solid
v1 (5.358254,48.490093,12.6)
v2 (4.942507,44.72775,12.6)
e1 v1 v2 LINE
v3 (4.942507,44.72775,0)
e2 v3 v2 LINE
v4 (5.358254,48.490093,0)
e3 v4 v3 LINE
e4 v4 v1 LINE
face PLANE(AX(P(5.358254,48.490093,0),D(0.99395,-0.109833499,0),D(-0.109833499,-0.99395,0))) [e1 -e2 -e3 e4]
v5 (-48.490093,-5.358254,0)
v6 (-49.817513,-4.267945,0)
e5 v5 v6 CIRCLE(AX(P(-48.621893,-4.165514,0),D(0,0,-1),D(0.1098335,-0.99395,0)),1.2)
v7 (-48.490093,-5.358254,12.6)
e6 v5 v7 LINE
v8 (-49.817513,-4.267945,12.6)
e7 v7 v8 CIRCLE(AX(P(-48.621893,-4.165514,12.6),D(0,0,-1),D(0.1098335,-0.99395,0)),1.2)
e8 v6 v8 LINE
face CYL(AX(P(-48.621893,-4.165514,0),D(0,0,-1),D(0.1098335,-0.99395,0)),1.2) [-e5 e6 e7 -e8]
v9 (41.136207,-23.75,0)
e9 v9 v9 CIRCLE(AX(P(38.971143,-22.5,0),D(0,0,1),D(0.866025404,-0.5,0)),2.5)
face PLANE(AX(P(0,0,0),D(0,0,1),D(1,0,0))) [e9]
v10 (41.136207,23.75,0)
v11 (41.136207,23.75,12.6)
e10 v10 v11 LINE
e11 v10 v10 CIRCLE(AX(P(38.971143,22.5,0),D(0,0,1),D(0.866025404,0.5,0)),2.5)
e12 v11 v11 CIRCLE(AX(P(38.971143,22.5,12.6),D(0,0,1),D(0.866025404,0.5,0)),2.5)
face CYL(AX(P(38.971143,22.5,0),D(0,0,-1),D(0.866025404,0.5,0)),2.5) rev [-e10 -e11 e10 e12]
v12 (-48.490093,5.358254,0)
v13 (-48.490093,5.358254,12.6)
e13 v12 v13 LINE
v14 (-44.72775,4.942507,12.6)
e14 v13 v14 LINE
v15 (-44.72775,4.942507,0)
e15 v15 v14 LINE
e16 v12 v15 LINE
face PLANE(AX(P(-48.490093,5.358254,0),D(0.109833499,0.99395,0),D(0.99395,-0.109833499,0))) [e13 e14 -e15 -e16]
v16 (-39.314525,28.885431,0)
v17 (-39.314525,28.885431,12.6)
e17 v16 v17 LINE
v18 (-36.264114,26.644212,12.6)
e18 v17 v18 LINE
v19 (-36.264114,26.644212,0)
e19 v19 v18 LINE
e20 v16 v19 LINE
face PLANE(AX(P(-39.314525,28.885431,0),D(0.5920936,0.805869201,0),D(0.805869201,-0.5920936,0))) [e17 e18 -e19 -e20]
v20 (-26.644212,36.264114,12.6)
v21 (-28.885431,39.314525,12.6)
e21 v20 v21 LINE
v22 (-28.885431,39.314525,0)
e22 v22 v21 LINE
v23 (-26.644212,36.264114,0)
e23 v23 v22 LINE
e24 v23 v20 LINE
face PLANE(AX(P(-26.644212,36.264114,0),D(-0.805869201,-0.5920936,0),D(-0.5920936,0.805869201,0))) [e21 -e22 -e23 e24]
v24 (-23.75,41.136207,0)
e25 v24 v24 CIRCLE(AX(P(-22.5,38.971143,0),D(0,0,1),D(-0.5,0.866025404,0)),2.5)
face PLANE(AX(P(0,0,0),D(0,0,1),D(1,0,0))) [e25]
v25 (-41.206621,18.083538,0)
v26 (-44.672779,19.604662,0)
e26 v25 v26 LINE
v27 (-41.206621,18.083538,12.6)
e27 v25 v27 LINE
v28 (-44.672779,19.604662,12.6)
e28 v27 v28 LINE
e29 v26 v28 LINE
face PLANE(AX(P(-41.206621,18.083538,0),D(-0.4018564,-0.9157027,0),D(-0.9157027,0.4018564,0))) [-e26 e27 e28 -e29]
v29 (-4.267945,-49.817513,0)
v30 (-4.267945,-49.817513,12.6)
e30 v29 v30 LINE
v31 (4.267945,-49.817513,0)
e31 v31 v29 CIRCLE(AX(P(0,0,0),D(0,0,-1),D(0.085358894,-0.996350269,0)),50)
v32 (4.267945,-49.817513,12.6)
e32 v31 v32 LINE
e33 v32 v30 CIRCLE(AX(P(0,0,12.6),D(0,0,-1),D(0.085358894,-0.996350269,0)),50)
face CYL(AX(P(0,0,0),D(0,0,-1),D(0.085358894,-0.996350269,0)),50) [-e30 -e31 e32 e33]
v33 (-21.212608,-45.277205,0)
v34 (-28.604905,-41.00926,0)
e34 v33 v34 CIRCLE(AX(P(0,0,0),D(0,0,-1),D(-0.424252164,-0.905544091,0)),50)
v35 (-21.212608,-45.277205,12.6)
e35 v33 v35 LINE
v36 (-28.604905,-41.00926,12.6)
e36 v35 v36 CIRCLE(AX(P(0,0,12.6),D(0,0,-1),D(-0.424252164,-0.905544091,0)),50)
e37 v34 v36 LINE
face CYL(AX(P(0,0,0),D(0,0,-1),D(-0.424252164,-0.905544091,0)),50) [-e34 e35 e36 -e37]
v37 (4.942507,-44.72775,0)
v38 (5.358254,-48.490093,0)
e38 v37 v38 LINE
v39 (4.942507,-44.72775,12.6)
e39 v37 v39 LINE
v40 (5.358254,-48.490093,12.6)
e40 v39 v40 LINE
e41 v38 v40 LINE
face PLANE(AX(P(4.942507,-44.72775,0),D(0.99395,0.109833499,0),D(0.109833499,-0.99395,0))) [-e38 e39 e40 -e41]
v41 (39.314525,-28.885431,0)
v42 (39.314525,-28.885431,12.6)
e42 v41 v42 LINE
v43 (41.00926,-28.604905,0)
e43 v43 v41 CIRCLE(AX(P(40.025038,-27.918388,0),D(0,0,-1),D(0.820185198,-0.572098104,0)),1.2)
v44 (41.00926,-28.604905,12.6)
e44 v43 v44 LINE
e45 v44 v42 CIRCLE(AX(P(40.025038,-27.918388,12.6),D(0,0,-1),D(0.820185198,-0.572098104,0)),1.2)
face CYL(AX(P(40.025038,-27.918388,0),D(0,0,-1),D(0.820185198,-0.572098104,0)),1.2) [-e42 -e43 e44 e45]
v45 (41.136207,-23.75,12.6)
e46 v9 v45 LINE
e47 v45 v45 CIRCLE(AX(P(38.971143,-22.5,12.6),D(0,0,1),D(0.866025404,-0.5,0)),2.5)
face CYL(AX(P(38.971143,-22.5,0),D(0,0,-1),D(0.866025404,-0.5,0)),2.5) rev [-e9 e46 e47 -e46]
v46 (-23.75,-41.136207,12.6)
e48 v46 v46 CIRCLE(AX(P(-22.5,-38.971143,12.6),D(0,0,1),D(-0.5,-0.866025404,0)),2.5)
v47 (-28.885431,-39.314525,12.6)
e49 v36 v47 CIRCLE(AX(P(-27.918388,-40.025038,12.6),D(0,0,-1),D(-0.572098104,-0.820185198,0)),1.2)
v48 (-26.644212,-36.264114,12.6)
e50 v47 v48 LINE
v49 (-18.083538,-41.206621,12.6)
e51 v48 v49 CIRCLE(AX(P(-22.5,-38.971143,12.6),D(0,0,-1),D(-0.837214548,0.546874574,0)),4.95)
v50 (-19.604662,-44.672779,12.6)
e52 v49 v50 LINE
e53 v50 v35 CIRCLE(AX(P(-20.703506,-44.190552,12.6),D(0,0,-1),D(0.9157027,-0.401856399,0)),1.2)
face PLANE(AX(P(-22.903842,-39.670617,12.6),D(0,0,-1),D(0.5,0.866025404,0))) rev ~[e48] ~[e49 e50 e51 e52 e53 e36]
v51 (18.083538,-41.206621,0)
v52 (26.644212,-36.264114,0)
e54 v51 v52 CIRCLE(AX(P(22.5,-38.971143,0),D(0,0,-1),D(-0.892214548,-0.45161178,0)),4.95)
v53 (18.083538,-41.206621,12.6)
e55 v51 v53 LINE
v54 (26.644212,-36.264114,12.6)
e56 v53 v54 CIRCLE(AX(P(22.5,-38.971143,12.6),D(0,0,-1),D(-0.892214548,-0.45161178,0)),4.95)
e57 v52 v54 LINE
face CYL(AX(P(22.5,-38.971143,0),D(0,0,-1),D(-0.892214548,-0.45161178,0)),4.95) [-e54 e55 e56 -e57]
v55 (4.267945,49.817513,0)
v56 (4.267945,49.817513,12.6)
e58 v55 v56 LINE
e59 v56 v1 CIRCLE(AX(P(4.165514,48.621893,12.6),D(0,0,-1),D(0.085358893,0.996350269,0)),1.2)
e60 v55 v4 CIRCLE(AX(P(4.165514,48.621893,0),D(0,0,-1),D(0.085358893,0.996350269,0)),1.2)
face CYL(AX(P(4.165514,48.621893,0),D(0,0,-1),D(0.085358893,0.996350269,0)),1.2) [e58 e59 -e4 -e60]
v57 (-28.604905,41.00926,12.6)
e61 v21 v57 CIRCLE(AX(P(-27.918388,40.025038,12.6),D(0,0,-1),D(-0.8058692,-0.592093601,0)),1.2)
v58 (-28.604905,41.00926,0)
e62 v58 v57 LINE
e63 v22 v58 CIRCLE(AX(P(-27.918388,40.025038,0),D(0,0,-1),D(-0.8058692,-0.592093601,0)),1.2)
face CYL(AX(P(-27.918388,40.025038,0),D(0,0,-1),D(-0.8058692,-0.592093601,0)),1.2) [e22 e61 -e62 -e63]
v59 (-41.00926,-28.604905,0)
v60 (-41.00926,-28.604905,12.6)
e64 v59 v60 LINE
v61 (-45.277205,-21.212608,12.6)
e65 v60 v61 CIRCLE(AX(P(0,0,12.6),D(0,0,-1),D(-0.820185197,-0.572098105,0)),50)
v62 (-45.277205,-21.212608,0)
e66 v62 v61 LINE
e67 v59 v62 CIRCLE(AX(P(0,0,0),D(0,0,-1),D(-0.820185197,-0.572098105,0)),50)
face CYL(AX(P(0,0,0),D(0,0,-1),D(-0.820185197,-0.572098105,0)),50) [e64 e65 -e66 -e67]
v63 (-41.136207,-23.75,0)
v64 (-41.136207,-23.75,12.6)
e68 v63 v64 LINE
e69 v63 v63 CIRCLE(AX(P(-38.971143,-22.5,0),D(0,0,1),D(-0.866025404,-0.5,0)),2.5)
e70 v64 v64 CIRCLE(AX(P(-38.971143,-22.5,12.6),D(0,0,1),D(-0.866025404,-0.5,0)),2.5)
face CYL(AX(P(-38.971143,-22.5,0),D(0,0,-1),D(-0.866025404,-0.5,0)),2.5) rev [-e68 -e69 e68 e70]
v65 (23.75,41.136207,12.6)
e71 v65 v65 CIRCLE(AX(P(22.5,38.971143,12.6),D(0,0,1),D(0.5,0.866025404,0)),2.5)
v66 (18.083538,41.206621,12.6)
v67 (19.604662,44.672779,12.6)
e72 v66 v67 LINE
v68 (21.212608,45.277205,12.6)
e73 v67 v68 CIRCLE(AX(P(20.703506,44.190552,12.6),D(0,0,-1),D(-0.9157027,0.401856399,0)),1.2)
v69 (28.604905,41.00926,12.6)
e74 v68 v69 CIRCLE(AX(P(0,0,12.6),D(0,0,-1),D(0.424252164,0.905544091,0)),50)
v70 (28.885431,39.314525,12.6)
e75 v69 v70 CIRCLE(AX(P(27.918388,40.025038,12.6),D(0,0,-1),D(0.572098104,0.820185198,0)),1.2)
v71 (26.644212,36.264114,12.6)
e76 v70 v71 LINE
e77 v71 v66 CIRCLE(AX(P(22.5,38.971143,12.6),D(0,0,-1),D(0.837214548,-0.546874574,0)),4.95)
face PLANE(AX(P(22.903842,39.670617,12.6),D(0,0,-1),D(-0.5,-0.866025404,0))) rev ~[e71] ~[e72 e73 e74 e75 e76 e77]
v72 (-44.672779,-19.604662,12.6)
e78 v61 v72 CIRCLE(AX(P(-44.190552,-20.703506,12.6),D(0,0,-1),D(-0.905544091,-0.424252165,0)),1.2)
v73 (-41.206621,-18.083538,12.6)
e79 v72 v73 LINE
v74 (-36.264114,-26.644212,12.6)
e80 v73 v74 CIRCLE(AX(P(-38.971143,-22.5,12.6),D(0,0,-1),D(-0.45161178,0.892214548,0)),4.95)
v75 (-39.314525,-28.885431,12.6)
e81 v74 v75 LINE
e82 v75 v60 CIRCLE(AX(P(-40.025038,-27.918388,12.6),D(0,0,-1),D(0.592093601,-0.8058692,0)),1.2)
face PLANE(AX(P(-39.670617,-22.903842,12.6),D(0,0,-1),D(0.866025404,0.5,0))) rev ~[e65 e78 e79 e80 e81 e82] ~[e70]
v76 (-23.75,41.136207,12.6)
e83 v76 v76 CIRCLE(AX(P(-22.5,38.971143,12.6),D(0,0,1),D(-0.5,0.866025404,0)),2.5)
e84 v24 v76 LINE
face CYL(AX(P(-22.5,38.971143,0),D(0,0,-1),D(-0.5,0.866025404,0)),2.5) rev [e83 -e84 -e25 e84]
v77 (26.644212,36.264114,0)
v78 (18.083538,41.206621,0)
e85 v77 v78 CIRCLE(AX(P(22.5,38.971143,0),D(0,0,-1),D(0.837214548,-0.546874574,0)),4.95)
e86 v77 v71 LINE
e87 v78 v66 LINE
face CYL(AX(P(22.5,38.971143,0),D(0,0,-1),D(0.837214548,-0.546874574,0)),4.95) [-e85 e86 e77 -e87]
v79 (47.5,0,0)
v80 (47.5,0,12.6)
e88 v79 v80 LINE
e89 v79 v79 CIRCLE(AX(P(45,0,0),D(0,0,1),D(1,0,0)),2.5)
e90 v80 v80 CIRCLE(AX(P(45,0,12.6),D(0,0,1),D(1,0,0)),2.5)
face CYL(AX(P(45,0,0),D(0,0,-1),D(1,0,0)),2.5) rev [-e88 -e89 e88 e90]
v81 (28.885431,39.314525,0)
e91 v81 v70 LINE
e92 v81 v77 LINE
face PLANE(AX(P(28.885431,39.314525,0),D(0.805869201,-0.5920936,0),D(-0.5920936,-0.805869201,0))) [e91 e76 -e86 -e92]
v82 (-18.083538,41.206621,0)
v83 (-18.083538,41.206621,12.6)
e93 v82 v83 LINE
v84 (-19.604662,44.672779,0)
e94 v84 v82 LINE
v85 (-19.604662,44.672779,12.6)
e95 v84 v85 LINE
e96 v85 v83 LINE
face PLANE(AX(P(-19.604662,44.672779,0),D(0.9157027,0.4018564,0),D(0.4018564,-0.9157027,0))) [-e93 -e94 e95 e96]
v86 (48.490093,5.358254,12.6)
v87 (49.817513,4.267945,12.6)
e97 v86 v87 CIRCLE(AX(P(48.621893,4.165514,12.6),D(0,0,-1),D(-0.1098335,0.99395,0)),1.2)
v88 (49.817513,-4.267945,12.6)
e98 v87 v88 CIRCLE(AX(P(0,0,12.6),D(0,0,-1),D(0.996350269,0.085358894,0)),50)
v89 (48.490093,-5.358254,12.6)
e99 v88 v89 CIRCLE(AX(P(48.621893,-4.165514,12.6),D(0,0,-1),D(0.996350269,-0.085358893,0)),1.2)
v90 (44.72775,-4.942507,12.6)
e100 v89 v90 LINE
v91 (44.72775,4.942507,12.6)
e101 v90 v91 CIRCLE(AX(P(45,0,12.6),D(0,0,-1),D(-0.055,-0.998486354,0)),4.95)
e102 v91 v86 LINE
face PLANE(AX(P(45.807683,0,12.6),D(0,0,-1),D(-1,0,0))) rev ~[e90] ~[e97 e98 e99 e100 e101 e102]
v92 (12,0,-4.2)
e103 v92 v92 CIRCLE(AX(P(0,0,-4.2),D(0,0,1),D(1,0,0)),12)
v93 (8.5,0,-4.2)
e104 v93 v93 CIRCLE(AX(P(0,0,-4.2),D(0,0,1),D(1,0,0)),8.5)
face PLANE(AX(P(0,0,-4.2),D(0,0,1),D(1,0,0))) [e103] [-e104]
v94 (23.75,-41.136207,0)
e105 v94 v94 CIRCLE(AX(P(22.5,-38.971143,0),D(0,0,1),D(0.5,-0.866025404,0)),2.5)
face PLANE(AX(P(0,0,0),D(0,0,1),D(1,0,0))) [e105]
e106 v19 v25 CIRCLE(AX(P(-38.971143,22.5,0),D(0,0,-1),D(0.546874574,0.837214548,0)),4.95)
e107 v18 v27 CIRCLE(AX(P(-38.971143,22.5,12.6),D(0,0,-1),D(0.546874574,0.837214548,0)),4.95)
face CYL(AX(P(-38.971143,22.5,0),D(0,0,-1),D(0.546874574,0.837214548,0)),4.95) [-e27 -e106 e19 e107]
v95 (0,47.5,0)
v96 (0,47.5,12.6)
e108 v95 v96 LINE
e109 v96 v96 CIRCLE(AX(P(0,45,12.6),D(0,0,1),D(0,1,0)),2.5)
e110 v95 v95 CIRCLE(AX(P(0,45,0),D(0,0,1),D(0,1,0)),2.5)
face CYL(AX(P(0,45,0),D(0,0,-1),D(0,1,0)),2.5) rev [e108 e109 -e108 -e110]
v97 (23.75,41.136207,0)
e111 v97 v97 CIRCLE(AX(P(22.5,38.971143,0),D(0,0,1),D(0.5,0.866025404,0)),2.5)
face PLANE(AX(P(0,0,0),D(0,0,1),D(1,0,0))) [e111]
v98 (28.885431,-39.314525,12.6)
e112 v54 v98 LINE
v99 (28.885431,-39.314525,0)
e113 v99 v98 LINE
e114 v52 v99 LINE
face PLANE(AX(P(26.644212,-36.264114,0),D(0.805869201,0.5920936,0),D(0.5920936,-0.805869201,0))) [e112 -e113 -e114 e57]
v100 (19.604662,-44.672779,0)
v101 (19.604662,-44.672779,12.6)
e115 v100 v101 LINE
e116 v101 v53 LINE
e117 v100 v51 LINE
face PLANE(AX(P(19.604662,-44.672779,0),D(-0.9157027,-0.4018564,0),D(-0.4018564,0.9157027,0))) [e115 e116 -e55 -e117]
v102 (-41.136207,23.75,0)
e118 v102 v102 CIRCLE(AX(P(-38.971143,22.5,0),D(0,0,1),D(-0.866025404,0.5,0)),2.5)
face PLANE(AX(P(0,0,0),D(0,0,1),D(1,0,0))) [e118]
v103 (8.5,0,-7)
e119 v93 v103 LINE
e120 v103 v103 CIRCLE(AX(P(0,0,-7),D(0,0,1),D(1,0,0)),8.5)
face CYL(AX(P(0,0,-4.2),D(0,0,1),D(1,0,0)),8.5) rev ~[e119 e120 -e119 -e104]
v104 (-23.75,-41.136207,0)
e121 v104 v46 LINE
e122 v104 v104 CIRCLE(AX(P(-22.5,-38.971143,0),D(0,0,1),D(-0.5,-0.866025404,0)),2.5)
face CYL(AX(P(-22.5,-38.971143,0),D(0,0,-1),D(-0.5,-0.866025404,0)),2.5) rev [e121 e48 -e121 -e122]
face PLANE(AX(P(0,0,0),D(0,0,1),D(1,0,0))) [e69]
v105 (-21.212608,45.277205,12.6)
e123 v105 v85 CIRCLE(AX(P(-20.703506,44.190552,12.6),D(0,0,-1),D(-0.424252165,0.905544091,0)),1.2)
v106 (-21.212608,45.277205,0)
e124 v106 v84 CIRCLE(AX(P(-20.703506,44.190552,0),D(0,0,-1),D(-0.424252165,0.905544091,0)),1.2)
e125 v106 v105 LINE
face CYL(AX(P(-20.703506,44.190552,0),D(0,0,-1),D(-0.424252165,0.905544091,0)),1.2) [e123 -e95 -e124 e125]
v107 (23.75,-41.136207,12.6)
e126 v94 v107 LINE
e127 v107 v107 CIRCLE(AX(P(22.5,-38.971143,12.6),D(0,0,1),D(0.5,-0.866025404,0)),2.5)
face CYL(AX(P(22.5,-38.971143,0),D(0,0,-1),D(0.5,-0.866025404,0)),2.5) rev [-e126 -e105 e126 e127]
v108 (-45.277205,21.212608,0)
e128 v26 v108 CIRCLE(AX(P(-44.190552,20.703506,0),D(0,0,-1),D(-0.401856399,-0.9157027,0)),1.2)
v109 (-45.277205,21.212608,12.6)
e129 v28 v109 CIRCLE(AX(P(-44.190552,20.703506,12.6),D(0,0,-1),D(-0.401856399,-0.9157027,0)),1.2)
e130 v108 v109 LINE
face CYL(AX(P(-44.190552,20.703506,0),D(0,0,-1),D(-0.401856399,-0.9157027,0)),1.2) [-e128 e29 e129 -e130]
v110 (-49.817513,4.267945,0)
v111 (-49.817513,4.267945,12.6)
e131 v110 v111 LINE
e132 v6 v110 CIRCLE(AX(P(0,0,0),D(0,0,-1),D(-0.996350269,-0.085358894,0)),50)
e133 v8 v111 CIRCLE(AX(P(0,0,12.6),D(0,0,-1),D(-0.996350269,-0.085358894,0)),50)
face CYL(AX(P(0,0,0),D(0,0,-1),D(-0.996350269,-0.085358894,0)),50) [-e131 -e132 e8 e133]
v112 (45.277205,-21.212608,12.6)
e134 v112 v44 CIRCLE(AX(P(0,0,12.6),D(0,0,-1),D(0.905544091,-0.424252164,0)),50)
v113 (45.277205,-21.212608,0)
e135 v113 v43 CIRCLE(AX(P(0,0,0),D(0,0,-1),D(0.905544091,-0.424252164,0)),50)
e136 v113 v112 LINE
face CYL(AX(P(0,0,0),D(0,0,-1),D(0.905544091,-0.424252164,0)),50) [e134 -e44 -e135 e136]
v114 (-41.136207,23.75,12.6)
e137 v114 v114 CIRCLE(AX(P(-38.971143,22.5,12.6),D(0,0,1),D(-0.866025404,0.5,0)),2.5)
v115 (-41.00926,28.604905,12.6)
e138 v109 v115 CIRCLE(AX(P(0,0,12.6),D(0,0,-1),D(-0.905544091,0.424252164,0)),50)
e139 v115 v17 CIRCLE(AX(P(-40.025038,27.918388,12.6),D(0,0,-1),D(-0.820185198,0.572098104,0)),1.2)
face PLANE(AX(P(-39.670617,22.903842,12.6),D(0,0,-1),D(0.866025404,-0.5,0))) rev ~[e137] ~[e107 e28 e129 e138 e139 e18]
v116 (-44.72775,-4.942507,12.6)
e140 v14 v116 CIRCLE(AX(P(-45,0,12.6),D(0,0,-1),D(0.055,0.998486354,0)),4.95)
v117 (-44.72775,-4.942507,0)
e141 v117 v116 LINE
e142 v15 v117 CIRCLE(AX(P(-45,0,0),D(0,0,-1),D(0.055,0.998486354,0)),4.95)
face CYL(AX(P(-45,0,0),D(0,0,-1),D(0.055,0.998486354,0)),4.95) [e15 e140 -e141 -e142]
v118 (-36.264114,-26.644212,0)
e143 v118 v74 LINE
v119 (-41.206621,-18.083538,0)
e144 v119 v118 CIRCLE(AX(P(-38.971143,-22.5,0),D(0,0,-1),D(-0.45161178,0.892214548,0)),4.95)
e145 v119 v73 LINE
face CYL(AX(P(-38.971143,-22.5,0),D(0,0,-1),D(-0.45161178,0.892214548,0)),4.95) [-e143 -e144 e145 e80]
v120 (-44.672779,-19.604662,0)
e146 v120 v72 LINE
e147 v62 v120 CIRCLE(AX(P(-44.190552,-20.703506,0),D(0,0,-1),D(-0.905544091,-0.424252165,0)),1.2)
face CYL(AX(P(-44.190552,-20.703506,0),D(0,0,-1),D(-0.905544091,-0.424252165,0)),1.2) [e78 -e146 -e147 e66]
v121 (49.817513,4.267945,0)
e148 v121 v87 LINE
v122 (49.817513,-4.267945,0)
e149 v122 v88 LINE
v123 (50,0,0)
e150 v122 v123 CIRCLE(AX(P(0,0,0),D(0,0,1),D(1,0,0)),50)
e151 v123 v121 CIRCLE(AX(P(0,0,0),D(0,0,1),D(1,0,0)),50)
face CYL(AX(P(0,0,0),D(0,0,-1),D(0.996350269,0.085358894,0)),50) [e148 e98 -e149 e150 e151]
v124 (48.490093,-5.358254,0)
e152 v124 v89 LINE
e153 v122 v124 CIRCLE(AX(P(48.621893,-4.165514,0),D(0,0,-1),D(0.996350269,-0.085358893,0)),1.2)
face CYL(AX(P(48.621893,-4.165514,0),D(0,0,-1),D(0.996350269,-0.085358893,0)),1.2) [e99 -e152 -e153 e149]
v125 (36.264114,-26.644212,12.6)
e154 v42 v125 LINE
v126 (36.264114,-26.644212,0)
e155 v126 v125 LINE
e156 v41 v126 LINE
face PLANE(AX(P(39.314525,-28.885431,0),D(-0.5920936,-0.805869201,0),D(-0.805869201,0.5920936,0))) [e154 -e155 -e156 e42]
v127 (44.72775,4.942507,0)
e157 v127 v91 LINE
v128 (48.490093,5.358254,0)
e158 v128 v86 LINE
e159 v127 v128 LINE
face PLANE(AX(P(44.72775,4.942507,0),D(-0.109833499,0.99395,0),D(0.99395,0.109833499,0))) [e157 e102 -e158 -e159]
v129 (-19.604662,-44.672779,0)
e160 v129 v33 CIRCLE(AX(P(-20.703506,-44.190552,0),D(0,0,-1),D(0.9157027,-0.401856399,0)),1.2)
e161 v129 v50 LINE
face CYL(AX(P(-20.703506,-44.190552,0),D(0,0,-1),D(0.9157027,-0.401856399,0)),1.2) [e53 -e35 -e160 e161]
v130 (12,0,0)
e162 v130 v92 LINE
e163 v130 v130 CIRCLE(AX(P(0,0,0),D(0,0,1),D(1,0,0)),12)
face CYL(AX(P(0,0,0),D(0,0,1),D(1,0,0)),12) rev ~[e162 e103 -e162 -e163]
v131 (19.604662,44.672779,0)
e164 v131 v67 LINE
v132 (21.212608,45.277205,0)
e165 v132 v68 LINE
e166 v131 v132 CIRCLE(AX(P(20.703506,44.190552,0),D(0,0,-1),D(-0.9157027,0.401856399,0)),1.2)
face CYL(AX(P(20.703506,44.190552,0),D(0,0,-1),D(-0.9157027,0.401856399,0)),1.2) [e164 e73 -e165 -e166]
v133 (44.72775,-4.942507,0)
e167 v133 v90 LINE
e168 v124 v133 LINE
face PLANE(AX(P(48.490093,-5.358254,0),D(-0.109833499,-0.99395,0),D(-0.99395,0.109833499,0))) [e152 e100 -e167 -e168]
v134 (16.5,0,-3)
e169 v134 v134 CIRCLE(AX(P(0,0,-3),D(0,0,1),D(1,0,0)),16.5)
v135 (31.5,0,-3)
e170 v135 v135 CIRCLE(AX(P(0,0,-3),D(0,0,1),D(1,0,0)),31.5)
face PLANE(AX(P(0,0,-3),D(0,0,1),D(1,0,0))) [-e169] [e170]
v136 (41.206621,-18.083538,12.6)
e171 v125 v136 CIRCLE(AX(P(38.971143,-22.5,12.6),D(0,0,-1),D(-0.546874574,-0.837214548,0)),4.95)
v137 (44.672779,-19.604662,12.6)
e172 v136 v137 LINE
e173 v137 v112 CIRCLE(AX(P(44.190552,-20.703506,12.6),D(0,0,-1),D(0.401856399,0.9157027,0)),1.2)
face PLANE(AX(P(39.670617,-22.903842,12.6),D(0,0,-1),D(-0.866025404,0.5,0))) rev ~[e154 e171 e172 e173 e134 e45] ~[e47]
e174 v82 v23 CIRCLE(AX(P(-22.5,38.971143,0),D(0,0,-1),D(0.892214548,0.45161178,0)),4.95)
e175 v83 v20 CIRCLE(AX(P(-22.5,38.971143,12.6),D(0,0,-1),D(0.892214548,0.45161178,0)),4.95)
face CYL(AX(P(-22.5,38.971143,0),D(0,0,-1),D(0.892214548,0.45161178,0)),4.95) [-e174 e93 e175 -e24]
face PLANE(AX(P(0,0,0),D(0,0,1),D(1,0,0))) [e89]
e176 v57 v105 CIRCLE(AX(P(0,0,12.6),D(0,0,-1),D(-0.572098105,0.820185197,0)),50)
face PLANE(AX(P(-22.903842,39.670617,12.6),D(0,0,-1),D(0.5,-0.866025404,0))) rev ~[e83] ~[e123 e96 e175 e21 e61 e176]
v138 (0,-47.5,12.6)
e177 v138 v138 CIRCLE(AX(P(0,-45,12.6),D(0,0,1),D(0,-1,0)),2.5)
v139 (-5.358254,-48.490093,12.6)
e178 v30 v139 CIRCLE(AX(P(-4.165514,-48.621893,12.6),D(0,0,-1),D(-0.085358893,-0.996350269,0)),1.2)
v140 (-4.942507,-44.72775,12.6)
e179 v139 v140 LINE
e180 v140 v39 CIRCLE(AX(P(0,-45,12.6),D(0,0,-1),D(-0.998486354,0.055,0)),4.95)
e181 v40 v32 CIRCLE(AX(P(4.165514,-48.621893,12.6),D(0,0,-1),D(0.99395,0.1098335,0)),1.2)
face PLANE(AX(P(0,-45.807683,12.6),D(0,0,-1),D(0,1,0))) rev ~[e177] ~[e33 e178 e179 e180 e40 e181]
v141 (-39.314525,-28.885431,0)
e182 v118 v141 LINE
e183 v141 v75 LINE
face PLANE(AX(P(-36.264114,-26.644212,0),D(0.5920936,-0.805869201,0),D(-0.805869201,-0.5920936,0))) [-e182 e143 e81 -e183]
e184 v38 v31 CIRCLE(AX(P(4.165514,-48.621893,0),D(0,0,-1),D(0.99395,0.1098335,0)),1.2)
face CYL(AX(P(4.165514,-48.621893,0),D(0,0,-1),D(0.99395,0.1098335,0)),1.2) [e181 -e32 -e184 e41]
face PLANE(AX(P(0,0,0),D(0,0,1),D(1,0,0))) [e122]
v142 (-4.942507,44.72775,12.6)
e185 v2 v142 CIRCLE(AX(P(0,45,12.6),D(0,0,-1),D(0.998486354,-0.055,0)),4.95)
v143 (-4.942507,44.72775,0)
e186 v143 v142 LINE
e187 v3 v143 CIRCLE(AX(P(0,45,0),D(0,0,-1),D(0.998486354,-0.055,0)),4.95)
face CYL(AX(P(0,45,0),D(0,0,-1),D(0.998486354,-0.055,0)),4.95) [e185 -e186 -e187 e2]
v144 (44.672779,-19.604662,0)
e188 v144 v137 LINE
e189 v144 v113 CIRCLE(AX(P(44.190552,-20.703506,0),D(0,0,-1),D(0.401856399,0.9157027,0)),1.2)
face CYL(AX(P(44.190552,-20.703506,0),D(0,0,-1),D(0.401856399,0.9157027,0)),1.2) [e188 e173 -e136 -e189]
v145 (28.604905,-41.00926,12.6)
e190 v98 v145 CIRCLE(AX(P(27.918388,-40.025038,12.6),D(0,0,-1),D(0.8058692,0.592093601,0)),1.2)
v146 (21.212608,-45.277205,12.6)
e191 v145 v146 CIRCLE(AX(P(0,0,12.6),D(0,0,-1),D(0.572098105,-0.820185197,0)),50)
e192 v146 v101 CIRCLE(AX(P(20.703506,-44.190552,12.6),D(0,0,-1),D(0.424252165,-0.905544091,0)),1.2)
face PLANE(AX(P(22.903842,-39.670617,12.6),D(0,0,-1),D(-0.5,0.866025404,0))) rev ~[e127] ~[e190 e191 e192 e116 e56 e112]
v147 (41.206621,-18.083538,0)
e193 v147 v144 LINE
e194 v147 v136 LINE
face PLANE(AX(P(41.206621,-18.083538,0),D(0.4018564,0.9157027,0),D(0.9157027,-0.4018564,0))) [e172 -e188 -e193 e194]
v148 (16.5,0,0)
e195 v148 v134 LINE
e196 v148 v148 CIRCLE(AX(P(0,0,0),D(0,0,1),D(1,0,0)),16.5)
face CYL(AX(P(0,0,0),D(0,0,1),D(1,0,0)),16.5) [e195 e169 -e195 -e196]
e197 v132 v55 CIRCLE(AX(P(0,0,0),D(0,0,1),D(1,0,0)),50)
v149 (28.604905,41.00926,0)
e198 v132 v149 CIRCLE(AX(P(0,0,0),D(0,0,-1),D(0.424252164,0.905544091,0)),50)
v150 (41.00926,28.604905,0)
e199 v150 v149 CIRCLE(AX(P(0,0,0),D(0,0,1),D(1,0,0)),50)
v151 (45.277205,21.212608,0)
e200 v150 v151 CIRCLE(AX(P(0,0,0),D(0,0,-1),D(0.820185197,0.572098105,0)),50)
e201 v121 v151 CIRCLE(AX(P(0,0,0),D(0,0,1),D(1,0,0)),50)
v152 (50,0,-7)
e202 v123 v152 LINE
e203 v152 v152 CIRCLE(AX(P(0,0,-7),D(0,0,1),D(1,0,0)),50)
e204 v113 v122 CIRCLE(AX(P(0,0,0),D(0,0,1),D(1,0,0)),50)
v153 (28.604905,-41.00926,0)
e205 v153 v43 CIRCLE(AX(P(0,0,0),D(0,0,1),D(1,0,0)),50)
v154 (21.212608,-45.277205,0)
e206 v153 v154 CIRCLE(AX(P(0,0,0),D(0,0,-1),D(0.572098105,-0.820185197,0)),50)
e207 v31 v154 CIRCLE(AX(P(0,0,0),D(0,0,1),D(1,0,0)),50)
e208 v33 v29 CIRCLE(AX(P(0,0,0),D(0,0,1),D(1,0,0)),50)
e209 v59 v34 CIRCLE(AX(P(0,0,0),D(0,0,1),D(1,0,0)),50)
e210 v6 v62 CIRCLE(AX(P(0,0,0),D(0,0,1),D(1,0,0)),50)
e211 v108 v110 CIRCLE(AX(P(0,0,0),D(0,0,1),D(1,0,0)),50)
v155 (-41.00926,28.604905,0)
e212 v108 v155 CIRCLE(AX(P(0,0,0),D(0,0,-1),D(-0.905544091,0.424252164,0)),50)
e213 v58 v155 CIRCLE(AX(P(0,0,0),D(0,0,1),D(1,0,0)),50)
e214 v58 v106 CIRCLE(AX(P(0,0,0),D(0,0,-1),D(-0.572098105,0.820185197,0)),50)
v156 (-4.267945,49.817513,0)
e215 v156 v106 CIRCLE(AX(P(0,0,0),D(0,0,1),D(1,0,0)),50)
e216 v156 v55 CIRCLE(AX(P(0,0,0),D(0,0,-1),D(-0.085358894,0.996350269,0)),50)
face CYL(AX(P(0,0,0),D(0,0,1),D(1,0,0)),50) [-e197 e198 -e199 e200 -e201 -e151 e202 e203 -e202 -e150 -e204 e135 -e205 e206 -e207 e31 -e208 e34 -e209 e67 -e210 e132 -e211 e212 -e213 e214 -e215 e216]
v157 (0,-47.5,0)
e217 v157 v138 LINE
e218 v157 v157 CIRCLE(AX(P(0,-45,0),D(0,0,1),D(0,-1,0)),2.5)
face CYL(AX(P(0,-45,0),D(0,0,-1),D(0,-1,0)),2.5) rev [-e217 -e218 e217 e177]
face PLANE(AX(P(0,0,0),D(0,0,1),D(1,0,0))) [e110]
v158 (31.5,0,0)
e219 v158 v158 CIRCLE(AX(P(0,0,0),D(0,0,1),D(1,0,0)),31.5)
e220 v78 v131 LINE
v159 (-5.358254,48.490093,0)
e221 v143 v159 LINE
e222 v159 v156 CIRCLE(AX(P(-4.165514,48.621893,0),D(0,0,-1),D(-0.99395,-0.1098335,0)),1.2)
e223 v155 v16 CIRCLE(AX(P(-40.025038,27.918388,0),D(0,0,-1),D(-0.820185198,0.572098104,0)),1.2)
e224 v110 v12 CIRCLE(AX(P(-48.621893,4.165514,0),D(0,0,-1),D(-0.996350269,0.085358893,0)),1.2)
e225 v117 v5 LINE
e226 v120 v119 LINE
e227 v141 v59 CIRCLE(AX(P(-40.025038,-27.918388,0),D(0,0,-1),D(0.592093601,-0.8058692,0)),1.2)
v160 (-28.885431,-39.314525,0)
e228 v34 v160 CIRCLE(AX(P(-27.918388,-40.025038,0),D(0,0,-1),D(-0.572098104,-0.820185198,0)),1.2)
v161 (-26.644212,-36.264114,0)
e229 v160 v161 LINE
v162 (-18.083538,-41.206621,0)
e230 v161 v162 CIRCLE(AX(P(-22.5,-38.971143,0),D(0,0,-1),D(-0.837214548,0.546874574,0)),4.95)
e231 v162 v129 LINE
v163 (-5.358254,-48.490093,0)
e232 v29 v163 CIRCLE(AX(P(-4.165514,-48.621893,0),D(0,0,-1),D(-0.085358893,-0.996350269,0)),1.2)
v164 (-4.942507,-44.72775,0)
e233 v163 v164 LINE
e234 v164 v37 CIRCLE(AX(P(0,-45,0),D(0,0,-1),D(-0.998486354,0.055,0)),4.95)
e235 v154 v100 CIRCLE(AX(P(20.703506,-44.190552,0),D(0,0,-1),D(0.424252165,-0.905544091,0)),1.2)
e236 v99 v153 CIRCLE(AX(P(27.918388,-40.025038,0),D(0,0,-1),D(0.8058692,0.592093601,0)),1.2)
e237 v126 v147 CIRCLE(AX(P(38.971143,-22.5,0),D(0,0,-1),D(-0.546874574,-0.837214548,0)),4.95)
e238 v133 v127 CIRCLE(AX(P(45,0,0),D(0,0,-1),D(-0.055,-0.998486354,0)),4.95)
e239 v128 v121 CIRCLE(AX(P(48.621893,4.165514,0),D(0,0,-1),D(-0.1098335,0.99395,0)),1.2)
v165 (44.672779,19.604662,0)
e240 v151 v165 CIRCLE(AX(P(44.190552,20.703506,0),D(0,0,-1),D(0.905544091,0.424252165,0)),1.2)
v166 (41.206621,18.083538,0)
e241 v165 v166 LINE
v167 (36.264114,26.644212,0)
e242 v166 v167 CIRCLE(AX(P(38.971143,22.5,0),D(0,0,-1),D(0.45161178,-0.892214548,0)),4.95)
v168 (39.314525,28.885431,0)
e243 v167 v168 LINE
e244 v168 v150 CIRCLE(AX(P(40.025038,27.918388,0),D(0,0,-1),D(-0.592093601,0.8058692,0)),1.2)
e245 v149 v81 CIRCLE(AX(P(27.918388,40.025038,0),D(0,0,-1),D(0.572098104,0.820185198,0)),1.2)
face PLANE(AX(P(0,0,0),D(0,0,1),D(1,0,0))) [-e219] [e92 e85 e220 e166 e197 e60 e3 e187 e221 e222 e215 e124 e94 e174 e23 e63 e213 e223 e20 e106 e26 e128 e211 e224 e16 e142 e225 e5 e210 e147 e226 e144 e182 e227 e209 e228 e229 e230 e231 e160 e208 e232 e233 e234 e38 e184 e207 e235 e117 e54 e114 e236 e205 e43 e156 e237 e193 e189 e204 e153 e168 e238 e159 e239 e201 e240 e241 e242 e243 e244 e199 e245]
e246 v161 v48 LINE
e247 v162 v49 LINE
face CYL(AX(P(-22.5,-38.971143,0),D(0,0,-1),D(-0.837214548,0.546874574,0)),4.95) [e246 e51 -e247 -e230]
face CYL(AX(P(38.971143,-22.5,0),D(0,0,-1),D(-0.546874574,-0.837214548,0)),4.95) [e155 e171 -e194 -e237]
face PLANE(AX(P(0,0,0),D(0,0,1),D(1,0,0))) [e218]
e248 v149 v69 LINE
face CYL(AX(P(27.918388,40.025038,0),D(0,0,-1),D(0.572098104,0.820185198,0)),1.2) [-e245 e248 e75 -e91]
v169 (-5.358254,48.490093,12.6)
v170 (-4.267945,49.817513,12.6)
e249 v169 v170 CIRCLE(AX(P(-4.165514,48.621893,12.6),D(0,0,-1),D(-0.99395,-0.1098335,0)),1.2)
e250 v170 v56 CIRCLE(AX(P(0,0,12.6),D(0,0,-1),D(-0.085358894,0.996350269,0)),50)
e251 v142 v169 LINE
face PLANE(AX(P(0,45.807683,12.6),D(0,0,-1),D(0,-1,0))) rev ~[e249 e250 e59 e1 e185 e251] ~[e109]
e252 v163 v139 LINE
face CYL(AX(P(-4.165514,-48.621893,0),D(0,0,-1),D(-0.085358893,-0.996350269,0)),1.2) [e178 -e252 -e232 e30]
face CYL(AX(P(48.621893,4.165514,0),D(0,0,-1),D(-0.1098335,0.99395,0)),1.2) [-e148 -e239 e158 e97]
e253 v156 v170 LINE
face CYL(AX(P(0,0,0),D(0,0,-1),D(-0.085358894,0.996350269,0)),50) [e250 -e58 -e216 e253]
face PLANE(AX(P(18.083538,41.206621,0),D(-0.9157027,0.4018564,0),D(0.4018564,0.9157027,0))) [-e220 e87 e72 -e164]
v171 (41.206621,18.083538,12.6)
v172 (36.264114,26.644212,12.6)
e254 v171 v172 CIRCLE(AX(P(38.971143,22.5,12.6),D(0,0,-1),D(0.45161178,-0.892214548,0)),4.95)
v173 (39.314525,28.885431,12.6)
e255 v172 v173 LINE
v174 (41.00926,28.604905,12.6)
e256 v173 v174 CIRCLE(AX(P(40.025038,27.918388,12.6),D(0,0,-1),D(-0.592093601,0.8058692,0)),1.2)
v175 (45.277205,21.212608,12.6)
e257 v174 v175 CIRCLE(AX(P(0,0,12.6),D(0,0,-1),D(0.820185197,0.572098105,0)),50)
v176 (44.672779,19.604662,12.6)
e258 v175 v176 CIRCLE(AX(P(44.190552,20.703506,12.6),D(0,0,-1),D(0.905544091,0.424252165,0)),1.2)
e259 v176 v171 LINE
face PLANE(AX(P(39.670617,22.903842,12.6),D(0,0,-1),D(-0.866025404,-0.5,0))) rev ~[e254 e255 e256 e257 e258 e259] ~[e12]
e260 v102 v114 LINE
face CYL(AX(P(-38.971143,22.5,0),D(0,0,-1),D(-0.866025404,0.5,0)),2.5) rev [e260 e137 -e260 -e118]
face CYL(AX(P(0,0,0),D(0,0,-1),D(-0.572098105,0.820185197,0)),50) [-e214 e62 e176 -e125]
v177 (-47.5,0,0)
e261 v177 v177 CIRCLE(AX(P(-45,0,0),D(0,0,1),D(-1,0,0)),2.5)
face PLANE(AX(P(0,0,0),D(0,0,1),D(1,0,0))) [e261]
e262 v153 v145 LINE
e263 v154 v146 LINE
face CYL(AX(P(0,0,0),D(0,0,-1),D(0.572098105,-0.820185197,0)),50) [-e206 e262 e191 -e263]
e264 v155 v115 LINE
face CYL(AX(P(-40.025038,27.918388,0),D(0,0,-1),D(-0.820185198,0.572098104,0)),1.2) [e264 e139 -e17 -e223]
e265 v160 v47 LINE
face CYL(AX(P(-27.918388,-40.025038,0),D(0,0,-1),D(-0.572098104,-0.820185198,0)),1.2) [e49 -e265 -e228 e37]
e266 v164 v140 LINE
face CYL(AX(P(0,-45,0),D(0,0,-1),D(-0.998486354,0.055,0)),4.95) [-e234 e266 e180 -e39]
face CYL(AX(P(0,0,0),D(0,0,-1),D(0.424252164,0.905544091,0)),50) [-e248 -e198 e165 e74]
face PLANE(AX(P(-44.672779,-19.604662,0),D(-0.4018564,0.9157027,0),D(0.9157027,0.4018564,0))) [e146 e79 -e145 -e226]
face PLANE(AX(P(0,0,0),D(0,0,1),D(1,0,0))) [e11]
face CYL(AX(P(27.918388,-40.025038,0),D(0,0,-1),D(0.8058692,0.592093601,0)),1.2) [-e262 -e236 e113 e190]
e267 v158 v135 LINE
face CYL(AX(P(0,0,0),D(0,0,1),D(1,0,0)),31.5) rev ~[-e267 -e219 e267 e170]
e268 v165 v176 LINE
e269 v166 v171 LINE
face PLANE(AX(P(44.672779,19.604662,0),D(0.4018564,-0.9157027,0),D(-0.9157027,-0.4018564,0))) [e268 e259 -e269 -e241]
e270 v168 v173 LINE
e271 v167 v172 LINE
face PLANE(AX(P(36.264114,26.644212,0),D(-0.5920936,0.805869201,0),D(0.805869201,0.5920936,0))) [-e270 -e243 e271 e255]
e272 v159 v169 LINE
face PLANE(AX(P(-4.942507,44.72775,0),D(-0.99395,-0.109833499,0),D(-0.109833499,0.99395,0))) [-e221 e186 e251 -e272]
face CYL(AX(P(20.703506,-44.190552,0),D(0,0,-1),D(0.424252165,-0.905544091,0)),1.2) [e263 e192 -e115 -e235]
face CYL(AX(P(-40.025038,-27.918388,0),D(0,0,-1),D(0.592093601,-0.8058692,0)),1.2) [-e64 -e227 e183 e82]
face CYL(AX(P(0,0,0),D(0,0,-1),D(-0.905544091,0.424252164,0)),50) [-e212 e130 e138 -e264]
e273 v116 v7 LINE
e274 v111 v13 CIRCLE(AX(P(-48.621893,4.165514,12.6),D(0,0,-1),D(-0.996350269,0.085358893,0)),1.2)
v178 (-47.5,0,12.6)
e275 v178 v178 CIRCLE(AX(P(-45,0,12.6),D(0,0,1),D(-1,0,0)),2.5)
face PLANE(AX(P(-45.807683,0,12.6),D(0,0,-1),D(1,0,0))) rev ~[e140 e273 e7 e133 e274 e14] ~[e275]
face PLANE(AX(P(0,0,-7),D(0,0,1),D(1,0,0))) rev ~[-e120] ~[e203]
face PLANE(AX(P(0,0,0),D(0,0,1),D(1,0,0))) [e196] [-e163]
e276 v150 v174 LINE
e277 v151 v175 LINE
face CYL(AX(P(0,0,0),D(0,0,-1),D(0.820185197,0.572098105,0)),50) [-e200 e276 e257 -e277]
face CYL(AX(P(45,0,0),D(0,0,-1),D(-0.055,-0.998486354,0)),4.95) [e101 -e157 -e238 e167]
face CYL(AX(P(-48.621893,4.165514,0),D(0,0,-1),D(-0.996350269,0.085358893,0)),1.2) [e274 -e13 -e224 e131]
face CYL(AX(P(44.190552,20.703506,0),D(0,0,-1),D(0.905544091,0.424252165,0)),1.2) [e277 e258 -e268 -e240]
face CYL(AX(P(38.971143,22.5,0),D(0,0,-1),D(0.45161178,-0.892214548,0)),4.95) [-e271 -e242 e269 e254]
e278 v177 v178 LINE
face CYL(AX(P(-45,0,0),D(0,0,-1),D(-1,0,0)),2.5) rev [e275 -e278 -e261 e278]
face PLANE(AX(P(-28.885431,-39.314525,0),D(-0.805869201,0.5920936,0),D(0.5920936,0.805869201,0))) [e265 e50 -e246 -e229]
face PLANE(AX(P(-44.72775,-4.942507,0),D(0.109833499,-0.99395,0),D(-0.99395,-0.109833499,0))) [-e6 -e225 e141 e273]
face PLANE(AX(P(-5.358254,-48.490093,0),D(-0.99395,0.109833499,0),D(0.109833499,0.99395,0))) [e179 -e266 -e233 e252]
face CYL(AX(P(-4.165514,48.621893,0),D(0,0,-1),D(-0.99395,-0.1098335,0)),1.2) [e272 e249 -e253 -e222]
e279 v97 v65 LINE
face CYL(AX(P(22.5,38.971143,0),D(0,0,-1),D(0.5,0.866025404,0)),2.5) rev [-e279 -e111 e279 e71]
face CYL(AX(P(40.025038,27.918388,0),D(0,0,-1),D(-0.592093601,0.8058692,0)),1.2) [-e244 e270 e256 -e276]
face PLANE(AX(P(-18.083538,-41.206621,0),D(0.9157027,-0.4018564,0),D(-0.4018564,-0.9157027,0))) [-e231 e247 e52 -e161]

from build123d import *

# Parameters (mm, degrees)
SKETCH1_R           = 50
BOSS_EXTRUDE1_DEPTH = 7
SKETCH2_R           = 2.5
BOSS_EXTRUDE2_DEPTH = 12.6
CIRPATTERN1_COUNT   = 12
SKETCH3_R           = 12
CUT_EXTRUDE1_DEPTH  = 8
SKETCH4_R           = 31.5
SKETCH4_R_2         = 16.5
CUT_EXTRUDE2_DEPTH  = 3
BOSS_EXTRUDE3_START = -4.2
SKETCH5_R           = 12
SKETCH5_R_2         = 8.5
BOSS_EXTRUDE3_DEPTH = 2.8


with BuildPart() as part:
    # Sketch1 → Boss-Extrude1 (new body)
    with BuildSketch(Plane.XY):
        Circle(SKETCH1_R)
    extrude(amount=-BOSS_EXTRUDE1_DEPTH)

    # Sketch2 → Boss-Extrude2 (add)
    with BuildSketch(Plane.XY):
        with BuildLine():
            Line((44.72775, 4.942507454), (48.490092946, 5.358254011))
            ThreePointArc((48.490092946, 5.358254011), (49.383550497, 5.092810123), (49.817513468, 4.267944684))
            ThreePointArc((49.817513468, 4.267944684), (50, 0), (49.817513468, -4.267944684))
            ThreePointArc((49.817513468, -4.267944684), (49.383550497, -5.092810123), (48.490092946, -5.358254011))
            Line((48.490092946, -5.358254011), (44.72775, -4.942507454))
            ThreePointArc((44.72775, -4.942507454), (40.05, 0), (44.72775, 4.942507454))
        make_face()
        with Locations((45, 0)):
            Circle(SKETCH2_R, mode=Mode.SUBTRACT)
    boss_extrude2 = extrude(amount=BOSS_EXTRUDE2_DEPTH)

    # CirPattern1: Boss-Extrude2 ×12 about axis
    cirpattern1_axis = Axis((0, 0, 0), (0, 0, 1))
    for i in range(1, CIRPATTERN1_COUNT):
        add(boss_extrude2.rotate(cirpattern1_axis, i * 360 / CIRPATTERN1_COUNT))

    # Sketch3 → Cut-Extrude1 (cut, through all)
    with BuildSketch(Plane.XY):
        Circle(SKETCH3_R)
    extrude(amount=-CUT_EXTRUDE1_DEPTH, mode=Mode.SUBTRACT)

    # Sketch4 → Cut-Extrude2 (cut)
    with BuildSketch(Plane.XY):
        Circle(SKETCH4_R)
        Circle(SKETCH4_R_2, mode=Mode.SUBTRACT)
    extrude(amount=-CUT_EXTRUDE2_DEPTH, mode=Mode.SUBTRACT)

    # Sketch5 → Boss-Extrude3 (add)
    with BuildSketch(Plane.XY.offset(BOSS_EXTRUDE3_START)):
        Circle(SKETCH5_R)
        Circle(SKETCH5_R_2, mode=Mode.SUBTRACT)
    extrude(amount=-BOSS_EXTRUDE3_DEPTH)


solid = part.part
